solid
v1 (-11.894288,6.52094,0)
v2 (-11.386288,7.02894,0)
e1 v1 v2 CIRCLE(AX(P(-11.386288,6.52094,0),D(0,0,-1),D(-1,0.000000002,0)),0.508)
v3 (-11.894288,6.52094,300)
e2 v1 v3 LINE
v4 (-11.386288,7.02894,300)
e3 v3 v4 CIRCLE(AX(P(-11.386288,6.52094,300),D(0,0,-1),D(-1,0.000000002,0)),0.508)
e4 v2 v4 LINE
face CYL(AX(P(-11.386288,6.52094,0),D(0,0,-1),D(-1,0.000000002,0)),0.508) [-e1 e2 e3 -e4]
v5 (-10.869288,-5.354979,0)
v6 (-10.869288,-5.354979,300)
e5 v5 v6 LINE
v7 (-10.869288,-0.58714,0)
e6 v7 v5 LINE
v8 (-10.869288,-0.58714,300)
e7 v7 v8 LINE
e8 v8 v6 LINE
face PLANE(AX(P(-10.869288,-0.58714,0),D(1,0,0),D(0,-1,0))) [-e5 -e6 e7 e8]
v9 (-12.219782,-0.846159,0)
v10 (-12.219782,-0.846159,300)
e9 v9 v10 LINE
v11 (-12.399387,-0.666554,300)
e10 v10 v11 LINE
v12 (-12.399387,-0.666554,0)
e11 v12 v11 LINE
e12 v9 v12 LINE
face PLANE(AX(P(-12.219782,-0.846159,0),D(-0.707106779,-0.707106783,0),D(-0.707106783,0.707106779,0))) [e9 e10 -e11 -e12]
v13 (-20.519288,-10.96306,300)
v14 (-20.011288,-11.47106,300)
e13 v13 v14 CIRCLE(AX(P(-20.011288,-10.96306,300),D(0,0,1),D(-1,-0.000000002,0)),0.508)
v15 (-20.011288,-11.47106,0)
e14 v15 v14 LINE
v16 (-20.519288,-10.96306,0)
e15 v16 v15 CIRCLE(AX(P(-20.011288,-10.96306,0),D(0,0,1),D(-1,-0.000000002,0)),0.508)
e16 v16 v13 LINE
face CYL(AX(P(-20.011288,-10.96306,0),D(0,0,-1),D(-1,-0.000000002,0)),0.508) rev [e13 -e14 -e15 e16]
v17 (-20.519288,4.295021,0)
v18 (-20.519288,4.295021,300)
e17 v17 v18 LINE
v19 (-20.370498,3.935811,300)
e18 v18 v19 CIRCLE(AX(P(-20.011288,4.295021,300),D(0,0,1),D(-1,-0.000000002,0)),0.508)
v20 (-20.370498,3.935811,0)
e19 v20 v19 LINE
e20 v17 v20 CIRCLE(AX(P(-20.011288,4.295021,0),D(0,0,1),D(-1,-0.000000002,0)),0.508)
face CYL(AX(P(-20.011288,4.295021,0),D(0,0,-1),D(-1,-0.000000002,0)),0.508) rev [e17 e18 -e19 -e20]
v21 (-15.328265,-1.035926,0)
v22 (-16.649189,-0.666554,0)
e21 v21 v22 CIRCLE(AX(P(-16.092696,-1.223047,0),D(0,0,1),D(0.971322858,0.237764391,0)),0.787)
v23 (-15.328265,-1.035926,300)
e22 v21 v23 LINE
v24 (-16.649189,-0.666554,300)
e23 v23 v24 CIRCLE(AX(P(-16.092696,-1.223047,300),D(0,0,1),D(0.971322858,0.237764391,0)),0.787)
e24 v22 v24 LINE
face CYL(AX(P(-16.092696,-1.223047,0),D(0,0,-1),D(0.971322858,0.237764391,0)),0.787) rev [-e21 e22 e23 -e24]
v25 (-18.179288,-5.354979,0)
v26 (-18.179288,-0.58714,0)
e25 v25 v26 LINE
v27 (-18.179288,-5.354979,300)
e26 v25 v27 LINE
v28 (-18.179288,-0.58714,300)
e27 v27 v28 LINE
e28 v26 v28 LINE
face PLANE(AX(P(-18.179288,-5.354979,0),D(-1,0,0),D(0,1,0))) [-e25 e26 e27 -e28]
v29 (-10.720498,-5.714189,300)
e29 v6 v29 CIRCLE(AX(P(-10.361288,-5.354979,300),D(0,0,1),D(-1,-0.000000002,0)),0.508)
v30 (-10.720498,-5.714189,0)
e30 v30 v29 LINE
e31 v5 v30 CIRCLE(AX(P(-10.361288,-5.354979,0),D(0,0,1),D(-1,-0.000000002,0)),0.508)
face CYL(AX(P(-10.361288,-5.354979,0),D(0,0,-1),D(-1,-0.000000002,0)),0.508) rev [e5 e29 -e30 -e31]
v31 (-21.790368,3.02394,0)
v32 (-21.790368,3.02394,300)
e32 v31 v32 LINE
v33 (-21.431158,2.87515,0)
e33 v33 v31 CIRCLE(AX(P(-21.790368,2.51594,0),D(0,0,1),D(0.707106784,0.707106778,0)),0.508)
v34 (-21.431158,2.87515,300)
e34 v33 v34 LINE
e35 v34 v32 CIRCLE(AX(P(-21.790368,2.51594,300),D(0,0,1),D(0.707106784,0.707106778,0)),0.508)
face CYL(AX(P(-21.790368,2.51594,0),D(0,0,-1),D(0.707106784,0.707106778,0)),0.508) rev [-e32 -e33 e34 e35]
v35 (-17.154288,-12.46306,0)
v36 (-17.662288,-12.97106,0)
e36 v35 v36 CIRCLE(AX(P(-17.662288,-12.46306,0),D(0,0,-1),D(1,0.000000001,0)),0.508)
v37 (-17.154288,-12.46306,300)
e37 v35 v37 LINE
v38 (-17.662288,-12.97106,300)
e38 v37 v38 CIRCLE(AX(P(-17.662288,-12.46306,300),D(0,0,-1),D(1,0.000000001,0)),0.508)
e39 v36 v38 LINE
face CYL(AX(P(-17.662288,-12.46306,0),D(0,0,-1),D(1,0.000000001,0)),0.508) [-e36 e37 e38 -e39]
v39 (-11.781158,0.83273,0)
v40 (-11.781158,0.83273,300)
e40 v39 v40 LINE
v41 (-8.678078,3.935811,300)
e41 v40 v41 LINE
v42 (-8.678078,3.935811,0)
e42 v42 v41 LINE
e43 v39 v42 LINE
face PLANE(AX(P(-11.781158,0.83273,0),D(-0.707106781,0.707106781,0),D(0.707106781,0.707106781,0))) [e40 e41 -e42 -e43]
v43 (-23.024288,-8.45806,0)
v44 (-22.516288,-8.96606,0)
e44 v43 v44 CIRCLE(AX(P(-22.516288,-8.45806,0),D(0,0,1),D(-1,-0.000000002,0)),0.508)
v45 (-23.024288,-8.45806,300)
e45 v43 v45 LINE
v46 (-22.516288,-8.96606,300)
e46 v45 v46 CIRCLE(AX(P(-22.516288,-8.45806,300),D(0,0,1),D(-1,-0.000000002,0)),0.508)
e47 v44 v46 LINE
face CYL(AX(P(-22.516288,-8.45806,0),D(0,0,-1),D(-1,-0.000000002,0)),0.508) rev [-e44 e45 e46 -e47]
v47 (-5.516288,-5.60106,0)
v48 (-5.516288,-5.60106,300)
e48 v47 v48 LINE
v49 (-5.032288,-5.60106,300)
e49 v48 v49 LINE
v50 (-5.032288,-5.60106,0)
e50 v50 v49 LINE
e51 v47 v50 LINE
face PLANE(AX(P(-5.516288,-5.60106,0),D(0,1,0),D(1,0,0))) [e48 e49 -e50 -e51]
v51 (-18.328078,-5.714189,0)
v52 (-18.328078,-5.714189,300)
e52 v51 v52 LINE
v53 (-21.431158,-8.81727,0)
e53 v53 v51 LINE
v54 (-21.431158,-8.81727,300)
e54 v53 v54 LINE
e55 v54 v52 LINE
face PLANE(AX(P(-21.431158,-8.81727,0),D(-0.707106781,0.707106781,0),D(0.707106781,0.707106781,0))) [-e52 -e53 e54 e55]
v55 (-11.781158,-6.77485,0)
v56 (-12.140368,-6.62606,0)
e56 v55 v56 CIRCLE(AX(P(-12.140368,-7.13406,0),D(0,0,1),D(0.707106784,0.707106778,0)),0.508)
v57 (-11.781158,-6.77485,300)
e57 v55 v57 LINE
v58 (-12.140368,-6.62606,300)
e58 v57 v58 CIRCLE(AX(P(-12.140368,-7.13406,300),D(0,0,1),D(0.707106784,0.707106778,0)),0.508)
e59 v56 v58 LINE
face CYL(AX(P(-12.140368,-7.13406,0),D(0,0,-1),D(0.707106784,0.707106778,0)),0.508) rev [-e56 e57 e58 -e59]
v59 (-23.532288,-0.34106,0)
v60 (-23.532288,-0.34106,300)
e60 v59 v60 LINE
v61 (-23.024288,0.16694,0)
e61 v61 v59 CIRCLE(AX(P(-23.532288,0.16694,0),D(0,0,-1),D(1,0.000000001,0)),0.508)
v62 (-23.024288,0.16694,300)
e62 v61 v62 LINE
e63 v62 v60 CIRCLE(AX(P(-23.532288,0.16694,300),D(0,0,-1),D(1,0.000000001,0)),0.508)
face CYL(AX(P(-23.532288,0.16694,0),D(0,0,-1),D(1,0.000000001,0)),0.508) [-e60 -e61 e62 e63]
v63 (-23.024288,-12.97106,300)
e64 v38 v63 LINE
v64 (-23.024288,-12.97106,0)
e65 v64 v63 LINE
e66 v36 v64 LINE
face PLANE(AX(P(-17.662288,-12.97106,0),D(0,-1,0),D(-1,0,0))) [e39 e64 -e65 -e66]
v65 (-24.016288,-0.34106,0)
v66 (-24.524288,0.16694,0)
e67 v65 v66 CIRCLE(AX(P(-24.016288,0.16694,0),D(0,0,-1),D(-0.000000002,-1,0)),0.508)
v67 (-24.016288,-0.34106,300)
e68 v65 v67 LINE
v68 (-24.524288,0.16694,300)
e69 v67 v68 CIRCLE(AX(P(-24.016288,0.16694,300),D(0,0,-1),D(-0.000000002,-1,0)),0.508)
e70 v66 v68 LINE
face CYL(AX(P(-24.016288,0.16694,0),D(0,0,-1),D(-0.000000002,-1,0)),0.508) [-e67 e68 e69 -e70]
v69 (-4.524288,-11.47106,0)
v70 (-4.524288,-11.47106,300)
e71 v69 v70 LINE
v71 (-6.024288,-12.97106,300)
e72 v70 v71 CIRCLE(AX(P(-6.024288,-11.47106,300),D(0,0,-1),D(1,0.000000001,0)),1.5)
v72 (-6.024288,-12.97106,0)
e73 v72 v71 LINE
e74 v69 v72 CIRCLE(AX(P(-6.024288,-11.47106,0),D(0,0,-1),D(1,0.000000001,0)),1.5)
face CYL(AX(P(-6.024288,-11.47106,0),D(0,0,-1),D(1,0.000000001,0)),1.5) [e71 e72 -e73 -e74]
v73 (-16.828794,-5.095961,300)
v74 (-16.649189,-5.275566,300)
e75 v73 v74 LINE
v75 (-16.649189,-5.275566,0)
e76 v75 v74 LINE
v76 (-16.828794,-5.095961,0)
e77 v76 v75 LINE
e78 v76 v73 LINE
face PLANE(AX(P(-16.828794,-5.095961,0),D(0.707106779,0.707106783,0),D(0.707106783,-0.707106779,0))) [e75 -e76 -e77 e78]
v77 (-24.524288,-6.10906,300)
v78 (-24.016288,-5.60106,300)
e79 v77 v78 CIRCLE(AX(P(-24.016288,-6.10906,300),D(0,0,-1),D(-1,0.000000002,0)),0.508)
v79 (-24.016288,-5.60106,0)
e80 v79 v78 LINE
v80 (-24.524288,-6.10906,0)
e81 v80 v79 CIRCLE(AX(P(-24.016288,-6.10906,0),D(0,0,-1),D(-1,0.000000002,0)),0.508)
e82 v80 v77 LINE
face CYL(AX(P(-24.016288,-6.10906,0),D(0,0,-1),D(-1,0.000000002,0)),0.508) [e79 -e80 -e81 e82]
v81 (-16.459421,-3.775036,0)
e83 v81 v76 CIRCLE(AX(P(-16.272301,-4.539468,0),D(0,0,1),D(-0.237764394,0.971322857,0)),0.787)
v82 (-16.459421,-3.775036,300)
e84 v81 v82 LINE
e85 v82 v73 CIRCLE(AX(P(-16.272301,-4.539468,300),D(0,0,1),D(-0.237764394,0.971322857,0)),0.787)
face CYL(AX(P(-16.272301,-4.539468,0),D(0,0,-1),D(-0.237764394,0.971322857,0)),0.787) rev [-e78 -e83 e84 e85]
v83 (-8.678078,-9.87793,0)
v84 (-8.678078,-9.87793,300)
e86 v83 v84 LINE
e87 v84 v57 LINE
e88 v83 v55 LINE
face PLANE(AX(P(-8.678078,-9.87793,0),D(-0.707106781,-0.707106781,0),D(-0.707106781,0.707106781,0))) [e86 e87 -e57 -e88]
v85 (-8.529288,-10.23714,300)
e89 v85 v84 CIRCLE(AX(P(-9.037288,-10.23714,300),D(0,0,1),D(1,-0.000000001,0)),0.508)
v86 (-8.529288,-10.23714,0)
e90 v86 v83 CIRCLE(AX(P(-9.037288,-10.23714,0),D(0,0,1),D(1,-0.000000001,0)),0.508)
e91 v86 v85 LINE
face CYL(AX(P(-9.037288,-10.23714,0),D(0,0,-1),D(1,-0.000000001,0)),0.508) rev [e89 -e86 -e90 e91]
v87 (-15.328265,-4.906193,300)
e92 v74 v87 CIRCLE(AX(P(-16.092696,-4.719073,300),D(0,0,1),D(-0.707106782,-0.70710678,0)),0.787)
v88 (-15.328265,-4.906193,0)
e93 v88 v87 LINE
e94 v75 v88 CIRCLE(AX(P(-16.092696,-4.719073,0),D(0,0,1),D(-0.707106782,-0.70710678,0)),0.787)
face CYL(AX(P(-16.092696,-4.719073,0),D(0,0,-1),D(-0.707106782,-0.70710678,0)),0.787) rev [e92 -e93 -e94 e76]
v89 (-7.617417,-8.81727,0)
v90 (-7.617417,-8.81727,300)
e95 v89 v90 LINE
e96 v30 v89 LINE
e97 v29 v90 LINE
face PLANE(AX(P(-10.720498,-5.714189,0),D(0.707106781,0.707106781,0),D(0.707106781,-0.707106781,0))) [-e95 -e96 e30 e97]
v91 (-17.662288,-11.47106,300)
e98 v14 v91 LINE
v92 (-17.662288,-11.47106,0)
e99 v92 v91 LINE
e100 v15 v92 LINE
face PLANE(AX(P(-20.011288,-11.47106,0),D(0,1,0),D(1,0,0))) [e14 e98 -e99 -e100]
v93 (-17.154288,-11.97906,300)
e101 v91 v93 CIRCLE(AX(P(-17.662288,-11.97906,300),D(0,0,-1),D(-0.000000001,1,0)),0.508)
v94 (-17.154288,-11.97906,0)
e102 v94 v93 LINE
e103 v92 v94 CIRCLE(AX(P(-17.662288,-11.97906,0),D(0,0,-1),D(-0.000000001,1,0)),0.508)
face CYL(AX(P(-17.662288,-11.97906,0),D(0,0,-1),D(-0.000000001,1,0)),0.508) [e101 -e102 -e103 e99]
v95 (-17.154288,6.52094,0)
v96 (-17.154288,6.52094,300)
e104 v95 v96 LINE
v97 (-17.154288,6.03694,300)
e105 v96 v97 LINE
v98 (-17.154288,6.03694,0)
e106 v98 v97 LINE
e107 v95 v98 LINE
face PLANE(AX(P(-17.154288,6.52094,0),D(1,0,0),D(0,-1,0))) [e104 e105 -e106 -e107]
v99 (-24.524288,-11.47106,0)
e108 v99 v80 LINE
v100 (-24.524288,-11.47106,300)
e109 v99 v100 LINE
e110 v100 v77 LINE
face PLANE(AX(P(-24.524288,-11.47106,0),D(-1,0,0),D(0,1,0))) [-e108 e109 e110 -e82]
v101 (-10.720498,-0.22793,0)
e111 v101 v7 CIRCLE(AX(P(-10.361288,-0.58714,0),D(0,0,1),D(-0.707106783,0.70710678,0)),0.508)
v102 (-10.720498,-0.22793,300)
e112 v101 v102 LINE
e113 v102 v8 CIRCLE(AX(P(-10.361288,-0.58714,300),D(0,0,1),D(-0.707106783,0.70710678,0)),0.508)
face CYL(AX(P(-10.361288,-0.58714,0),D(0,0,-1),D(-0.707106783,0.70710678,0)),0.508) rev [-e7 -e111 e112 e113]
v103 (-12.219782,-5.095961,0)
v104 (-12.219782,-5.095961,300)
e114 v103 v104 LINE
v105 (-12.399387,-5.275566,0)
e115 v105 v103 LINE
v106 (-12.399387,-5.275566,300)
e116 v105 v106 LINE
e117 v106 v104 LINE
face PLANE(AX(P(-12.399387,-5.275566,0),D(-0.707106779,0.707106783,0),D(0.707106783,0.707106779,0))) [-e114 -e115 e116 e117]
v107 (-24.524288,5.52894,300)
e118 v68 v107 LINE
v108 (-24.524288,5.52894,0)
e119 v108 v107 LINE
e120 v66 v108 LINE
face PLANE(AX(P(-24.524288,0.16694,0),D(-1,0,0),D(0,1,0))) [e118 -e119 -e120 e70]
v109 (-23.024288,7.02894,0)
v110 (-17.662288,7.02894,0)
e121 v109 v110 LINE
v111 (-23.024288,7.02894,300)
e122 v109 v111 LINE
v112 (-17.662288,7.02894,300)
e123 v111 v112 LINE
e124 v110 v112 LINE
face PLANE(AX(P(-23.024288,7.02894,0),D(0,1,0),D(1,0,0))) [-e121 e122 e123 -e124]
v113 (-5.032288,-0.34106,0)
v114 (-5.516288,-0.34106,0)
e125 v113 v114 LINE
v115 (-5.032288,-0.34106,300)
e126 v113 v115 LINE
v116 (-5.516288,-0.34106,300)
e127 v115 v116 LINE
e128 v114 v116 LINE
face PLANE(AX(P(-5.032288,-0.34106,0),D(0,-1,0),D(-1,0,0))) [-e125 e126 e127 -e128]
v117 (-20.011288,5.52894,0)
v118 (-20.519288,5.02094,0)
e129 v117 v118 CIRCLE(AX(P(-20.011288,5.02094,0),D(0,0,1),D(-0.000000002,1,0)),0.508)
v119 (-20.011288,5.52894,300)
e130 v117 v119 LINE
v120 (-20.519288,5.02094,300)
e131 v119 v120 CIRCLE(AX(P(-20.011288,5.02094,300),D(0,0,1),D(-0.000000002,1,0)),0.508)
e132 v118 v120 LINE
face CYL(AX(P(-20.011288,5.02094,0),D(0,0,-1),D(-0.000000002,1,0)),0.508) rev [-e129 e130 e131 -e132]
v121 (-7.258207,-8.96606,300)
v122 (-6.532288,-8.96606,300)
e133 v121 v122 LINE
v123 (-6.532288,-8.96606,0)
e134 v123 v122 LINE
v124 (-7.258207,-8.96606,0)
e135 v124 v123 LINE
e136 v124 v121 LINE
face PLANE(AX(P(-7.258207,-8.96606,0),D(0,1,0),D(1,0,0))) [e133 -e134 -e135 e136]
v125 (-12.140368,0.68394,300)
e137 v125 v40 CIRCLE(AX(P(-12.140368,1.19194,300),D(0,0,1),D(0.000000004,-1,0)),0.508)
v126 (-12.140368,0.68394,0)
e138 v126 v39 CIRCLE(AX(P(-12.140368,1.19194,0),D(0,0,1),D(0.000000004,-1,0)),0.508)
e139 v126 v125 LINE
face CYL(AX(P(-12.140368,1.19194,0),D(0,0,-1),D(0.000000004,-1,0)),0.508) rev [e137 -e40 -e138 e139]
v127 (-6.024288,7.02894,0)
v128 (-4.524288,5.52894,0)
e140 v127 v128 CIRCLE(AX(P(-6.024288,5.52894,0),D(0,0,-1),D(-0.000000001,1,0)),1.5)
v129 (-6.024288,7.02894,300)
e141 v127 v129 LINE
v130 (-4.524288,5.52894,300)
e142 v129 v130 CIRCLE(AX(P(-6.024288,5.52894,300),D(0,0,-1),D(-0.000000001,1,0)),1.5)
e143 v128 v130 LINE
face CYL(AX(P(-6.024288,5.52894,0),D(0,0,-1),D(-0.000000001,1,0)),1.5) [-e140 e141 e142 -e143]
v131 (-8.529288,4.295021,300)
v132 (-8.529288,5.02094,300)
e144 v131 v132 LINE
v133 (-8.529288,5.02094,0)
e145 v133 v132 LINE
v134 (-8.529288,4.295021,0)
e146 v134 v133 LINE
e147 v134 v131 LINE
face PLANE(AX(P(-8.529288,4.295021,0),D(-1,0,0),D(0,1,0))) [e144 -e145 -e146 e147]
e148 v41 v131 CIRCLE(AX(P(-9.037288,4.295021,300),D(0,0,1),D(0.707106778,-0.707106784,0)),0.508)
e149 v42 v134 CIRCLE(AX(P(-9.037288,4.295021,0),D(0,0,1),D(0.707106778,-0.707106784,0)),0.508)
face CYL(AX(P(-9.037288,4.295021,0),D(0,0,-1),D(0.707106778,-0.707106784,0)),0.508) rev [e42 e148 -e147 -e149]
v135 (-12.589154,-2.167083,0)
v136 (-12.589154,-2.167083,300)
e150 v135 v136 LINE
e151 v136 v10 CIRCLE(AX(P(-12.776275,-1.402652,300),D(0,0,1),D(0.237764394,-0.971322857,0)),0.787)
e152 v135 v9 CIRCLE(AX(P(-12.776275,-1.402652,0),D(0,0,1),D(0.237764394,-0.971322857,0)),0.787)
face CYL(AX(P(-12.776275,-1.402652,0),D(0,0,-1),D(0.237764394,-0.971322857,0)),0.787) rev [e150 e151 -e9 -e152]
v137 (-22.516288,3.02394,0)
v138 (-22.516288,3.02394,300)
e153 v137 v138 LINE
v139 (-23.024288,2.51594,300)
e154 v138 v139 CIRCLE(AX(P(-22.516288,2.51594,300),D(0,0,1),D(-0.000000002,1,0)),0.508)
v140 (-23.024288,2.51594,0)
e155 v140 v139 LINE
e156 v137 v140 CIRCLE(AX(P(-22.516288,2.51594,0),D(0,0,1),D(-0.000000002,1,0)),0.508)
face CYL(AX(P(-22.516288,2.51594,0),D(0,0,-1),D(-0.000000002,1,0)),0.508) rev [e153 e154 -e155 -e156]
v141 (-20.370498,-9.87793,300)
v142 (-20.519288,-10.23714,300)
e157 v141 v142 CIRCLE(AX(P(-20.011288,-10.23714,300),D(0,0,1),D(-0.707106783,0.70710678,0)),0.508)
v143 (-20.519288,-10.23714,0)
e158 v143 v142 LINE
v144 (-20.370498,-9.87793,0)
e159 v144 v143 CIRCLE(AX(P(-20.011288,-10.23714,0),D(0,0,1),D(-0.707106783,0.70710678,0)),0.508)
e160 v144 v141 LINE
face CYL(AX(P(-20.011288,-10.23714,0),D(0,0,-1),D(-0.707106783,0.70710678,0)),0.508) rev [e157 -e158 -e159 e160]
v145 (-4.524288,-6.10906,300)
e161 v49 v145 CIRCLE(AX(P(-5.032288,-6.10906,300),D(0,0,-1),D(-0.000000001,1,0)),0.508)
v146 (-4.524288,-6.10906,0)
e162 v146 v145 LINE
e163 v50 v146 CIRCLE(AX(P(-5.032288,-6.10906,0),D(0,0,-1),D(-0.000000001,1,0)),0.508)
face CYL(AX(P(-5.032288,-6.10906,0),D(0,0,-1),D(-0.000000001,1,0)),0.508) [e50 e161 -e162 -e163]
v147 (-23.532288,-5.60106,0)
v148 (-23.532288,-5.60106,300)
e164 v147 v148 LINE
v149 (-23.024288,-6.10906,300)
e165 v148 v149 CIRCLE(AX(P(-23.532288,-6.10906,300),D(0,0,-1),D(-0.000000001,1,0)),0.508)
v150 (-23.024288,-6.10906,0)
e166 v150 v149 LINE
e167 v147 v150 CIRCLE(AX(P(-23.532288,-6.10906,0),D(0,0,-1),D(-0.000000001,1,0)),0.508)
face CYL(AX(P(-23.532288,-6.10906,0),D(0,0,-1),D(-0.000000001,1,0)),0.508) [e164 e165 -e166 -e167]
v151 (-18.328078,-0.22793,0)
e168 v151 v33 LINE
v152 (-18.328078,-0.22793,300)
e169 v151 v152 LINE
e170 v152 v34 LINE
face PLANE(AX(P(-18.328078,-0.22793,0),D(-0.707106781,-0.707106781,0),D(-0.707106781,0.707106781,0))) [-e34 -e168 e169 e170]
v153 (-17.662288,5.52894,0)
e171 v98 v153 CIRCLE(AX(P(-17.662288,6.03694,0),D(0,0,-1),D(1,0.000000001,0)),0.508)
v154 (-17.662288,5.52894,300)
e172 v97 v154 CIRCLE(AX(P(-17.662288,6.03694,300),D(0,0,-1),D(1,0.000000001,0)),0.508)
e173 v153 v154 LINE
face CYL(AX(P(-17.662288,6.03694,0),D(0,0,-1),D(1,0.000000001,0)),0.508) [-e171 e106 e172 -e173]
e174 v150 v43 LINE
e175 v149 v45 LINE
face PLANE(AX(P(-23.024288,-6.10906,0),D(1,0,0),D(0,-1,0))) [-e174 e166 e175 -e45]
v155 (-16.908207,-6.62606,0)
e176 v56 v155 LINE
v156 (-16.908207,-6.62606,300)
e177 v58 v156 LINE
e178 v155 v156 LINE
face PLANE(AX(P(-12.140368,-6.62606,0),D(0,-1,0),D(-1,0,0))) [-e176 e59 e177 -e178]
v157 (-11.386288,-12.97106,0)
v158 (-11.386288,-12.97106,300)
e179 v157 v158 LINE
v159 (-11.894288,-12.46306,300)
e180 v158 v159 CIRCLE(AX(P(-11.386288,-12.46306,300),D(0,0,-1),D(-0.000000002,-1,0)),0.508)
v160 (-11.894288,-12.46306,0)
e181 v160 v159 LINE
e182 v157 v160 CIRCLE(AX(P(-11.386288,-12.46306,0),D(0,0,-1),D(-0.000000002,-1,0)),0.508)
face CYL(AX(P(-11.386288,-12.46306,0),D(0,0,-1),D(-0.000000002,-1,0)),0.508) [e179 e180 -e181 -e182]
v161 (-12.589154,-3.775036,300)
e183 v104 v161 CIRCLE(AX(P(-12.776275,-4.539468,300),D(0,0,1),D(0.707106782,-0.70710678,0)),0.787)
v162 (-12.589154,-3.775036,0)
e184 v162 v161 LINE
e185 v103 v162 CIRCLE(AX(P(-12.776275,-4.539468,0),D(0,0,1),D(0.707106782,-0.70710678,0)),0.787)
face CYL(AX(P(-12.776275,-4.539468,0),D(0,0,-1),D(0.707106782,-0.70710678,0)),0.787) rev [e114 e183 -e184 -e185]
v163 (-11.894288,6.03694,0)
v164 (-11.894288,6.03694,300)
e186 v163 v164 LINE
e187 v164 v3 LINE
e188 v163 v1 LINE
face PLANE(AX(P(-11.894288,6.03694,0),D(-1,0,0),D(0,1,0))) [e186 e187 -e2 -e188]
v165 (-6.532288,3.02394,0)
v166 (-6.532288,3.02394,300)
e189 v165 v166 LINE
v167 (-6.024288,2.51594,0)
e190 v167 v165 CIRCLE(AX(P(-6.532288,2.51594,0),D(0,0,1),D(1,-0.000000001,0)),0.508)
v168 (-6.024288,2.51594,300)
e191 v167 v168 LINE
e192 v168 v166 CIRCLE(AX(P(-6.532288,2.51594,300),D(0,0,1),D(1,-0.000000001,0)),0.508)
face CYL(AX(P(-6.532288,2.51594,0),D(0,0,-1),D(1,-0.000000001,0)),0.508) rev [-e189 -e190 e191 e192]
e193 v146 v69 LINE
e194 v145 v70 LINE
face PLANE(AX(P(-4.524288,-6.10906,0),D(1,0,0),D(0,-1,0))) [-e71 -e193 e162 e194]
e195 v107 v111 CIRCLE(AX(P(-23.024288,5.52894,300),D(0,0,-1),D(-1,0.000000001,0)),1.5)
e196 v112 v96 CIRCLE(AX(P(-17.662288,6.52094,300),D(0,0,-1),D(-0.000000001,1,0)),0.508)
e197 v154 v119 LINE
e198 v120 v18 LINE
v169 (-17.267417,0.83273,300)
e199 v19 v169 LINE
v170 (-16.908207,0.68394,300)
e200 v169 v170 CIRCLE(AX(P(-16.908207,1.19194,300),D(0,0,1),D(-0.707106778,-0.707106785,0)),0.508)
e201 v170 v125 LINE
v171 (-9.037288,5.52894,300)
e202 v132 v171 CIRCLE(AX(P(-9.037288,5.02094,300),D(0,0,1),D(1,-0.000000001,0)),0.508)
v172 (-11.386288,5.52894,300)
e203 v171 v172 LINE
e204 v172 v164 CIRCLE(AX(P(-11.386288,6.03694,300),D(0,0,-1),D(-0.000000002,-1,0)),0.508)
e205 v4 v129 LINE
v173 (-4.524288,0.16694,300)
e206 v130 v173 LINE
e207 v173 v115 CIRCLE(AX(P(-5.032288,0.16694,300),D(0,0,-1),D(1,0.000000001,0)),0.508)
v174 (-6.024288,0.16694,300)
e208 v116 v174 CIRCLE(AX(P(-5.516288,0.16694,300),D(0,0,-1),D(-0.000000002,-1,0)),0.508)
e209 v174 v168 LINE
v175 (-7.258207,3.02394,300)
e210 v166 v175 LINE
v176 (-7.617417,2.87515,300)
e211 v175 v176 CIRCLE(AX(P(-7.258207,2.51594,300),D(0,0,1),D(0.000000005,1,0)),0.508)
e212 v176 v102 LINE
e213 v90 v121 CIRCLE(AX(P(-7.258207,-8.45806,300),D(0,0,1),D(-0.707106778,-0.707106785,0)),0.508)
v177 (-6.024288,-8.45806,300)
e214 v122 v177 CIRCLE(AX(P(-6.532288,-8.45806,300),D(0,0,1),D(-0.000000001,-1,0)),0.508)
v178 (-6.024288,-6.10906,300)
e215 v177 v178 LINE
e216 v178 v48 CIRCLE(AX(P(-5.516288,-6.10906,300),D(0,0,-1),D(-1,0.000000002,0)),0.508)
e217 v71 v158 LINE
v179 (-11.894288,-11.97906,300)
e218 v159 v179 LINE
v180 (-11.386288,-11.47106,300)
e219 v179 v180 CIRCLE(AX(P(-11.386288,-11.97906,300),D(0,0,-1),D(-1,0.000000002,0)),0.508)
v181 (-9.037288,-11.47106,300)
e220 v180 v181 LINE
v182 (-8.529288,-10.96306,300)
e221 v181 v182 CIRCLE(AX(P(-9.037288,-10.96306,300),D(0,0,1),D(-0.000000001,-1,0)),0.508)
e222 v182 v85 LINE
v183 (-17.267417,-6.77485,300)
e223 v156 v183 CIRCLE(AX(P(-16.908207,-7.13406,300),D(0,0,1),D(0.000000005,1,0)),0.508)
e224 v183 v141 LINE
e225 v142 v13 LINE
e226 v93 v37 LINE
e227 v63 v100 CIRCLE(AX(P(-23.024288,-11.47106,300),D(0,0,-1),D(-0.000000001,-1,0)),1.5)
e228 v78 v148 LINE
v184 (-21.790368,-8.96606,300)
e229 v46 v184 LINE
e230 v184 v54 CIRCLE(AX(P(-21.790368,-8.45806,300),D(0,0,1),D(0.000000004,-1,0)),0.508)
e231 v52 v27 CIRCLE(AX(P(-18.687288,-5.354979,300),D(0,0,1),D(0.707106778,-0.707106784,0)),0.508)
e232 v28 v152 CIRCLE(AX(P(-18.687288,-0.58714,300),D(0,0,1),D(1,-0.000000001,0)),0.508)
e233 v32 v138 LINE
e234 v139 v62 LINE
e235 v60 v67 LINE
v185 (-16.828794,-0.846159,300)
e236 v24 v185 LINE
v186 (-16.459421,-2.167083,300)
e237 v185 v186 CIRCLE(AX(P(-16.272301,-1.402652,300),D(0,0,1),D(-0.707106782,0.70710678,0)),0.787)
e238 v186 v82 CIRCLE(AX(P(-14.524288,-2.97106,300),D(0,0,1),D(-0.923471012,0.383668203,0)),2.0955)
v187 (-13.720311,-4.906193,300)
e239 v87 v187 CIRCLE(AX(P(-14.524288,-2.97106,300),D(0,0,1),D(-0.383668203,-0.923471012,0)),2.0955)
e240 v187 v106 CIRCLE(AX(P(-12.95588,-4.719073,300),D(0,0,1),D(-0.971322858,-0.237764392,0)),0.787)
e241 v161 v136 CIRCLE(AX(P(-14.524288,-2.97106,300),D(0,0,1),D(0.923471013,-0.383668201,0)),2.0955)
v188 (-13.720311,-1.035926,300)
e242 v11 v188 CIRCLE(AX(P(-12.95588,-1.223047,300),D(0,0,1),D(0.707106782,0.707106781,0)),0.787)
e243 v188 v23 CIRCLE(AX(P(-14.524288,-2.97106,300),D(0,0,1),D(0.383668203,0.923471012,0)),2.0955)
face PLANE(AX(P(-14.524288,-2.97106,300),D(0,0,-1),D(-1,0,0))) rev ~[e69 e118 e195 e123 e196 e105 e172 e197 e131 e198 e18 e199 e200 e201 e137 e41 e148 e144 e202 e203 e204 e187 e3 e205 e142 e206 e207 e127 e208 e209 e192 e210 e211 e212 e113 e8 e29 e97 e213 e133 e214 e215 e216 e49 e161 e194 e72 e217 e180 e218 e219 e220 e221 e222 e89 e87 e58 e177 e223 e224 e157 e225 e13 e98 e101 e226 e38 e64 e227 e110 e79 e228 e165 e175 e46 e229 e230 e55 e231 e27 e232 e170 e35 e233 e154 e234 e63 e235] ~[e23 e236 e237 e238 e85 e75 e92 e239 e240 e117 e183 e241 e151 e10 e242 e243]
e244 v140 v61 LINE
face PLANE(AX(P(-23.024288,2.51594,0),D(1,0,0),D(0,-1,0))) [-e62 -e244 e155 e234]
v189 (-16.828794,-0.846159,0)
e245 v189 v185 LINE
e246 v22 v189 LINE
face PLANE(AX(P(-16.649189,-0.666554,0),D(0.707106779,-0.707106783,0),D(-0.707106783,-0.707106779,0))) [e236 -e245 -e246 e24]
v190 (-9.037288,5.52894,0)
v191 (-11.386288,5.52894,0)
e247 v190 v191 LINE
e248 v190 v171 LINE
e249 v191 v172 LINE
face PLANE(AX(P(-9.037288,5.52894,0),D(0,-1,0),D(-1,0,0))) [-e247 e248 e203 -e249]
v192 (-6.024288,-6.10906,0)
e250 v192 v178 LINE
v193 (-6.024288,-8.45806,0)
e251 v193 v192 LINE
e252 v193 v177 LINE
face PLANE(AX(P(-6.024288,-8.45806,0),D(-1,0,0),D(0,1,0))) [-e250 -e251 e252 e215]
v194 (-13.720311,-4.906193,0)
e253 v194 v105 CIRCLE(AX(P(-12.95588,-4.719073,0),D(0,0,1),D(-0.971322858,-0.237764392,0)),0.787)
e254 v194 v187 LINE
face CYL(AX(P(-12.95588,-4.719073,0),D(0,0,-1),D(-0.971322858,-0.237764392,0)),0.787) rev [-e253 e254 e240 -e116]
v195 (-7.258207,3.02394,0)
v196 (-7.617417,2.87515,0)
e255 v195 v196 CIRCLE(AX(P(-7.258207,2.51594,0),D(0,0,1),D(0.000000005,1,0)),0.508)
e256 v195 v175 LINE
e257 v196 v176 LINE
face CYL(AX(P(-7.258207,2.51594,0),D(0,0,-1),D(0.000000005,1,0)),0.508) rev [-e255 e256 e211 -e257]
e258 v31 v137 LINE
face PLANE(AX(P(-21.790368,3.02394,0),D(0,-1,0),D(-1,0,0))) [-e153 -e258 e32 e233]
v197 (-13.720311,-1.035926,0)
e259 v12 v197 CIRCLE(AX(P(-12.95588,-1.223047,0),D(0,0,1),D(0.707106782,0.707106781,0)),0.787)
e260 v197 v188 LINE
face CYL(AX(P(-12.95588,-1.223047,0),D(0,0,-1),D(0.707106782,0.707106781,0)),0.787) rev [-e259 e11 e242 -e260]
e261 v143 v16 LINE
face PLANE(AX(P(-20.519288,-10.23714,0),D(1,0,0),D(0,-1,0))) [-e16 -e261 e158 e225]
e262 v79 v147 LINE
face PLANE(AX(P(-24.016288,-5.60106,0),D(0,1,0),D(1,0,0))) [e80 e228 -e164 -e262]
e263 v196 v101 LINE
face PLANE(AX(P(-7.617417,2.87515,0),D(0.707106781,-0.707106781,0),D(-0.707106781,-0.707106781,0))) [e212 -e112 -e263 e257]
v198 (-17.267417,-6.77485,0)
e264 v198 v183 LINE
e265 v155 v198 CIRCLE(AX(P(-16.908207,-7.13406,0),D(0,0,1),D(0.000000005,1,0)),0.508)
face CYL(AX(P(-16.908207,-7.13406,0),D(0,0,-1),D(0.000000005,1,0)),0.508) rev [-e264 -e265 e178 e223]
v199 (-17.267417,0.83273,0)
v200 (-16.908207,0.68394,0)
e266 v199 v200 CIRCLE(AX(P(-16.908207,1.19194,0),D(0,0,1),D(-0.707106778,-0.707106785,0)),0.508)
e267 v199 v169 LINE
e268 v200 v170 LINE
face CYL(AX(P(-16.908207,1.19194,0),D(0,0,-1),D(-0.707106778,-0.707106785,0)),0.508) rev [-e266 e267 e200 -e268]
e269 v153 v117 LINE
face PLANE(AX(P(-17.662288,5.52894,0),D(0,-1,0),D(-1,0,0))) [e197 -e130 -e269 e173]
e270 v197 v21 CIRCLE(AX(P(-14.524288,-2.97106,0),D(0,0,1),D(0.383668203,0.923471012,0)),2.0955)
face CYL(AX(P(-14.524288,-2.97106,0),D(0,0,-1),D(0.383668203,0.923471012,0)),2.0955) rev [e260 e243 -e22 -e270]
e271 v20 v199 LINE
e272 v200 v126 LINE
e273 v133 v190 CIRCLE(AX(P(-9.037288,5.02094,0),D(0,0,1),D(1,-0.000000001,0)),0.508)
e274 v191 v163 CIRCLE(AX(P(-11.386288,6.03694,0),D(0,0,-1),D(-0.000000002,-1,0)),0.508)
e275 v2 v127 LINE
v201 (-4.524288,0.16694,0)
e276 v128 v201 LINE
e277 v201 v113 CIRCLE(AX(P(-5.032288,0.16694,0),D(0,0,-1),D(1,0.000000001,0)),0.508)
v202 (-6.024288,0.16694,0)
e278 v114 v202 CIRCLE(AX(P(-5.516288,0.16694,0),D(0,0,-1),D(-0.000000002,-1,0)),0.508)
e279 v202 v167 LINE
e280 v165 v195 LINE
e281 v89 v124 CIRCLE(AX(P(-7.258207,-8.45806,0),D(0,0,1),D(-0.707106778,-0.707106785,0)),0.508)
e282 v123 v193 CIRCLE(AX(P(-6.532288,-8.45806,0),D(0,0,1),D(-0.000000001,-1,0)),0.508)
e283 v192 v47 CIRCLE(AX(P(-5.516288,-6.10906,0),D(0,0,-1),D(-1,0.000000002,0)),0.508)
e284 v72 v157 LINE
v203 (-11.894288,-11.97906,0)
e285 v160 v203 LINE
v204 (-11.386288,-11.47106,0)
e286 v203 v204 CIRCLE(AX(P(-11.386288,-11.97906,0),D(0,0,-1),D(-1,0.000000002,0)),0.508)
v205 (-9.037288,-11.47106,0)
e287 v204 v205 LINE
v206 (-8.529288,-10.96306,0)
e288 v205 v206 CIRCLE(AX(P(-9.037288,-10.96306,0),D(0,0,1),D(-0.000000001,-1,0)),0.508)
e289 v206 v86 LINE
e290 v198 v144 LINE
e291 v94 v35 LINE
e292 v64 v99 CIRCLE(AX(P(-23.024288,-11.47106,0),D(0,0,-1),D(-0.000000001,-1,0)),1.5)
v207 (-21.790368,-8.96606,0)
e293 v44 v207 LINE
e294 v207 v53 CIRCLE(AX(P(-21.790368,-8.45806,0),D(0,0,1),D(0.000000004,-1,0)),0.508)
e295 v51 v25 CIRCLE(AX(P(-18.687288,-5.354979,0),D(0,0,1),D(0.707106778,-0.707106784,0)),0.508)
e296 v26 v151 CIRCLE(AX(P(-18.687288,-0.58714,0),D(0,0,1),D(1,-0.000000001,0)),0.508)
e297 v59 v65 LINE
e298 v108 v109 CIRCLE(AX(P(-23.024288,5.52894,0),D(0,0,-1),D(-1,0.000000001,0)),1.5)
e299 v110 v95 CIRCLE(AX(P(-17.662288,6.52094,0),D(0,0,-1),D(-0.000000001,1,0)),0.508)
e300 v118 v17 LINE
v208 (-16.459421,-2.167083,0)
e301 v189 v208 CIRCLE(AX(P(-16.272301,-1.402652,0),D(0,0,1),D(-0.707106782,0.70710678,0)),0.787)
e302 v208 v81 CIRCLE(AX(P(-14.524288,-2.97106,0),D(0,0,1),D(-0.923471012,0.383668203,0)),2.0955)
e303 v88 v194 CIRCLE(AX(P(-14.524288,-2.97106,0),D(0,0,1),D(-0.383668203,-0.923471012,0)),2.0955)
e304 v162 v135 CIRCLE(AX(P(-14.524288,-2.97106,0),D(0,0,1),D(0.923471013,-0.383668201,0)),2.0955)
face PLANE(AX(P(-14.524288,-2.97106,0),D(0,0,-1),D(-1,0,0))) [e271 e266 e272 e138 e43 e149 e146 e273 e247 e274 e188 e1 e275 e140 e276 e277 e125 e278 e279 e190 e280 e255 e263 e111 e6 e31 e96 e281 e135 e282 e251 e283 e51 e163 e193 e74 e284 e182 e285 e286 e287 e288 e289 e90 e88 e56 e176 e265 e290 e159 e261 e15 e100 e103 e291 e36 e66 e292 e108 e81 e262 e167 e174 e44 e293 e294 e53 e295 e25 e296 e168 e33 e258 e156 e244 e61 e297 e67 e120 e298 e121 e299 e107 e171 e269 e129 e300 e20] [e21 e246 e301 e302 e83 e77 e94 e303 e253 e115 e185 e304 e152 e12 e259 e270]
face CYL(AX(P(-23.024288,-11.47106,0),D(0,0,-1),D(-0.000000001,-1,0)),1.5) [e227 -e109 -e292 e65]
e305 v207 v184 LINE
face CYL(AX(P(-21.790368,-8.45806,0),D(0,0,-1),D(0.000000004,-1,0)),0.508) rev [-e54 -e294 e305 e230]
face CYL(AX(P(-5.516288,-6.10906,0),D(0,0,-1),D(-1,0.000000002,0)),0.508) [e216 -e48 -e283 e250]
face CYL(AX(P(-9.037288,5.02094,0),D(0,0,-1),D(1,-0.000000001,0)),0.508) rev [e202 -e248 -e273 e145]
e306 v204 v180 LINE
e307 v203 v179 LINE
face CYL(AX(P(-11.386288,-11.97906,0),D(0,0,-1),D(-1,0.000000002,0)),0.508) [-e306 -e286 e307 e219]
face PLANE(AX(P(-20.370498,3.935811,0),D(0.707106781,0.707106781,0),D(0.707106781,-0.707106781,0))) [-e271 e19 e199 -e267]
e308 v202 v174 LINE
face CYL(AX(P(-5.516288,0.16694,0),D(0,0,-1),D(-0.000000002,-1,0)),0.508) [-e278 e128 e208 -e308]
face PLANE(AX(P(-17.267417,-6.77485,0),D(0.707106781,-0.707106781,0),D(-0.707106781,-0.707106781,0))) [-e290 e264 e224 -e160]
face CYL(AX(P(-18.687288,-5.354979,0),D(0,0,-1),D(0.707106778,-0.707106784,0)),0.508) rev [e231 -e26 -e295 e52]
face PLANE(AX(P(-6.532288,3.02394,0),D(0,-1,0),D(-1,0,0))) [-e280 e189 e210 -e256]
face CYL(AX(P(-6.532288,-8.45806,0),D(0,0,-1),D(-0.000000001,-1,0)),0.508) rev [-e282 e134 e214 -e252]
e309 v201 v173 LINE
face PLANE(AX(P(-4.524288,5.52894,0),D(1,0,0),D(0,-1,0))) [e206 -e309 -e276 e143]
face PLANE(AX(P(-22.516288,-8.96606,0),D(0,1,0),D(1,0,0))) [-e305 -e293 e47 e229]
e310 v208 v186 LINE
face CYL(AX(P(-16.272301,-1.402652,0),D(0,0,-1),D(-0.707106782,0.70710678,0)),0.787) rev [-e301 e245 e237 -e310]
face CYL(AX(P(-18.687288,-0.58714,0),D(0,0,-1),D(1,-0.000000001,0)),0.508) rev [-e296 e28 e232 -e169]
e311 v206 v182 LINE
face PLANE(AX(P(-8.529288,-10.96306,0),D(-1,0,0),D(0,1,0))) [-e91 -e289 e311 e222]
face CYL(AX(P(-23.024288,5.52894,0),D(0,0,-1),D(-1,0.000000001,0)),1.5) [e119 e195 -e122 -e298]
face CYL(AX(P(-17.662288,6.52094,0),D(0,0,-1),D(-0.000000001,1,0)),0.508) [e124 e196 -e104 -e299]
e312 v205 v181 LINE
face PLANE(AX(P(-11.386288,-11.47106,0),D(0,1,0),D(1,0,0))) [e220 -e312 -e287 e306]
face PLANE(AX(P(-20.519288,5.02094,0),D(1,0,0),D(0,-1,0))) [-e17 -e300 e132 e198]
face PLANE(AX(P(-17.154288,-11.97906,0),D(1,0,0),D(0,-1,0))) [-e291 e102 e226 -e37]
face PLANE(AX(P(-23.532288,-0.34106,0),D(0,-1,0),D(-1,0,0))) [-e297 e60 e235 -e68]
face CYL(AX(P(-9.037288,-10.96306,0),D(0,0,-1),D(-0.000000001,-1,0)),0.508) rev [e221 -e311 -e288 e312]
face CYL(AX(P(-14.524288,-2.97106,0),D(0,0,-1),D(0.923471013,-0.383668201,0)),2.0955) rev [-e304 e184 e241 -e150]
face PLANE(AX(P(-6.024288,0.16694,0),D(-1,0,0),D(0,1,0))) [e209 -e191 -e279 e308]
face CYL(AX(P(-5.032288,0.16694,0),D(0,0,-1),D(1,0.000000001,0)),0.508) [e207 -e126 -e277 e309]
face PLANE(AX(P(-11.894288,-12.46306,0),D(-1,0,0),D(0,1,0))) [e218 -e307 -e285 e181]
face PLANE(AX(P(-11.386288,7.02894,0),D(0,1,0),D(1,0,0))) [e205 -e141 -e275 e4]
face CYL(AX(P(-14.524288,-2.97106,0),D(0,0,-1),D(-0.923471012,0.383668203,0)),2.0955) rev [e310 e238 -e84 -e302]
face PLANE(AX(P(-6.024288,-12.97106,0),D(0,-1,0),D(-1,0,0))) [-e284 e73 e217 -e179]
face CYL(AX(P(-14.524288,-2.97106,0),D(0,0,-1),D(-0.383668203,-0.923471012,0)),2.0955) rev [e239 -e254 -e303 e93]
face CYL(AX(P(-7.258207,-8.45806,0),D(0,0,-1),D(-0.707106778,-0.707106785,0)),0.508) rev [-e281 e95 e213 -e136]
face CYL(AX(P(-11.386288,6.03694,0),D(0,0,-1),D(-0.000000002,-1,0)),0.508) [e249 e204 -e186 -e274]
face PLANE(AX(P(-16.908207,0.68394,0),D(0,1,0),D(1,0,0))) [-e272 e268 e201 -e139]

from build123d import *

# Parameters (mm, degrees)
EXTRUDE1_DEPTH = 300


with BuildPart() as part:
    # Sketch1 → Extrude1 (new body)
    with BuildSketch(Plane.XY):
        with BuildLine():
            Line((-5.032287798, -0.341059771), (-5.516287798, -0.341059771))
            ThreePointArc((-5.516287798, -0.341059771), (-5.875498042, -0.192270016), (-6.024287798, 0.166940229))
            Line((-6.024287798, 0.166940229), (-6.024287798, 2.515940229))
            ThreePointArc((-6.024287798, 2.515940229), (-6.173077553, 2.875150474), (-6.532287798, 3.023940229))
            Line((-6.532287798, 3.023940229), (-7.258207136, 3.023940229))
            ThreePointArc((-7.258207136, 3.023940229), (-7.45261032, 2.985271032), (-7.617417381, 2.875150474))
            Line((-7.617417381, 2.875150474), (-10.720498042, -0.227930187))
            ThreePointArc((-10.720498042, -0.227930187), (-10.8306186, -0.392737249), (-10.869287798, -0.587140432))
            Line((-10.869287798, -0.587140432), (-10.869287798, -5.354979109))
            ThreePointArc((-10.869287798, -5.354979109), (-10.8306186, -5.549382293), (-10.720498042, -5.714189354))
            Line((-10.720498042, -5.714189354), (-7.617417381, -8.817270016))
            ThreePointArc((-7.617417381, -8.817270016), (-7.45261032, -8.927390573), (-7.258207136, -8.966059771))
            Line((-7.258207136, -8.966059771), (-6.532287798, -8.966059771))
            ThreePointArc((-6.532287798, -8.966059771), (-6.173077553, -8.817270016), (-6.024287798, -8.458059771))
            Line((-6.024287798, -8.458059771), (-6.024287798, -6.109059771))
            ThreePointArc((-6.024287798, -6.109059771), (-5.875498042, -5.749849526), (-5.516287798, -5.601059771))
            Line((-5.516287798, -5.601059771), (-5.032287798, -5.601059771))
            ThreePointArc((-5.032287798, -5.601059771), (-4.673077553, -5.749849526), (-4.524287798, -6.109059771))
            Line((-4.524287798, -6.109059771), (-4.524287798, -11.471059771))
            ThreePointArc((-4.524287798, -11.471059771), (-4.963627626, -12.531719943), (-6.024287798, -12.971059771))
            Line((-6.024287798, -12.971059771), (-11.386287798, -12.971059771))
            ThreePointArc((-11.386287798, -12.971059771), (-11.745498042, -12.822270016), (-11.894287798, -12.463059771))
            Line((-11.894287798, -12.463059771), (-11.894287798, -11.979059771))
            ThreePointArc((-11.894287798, -11.979059771), (-11.745498042, -11.619849526), (-11.386287798, -11.471059771))
            Line((-11.386287798, -11.471059771), (-9.037287798, -11.471059771))
            ThreePointArc((-9.037287798, -11.471059771), (-8.678077553, -11.322270016), (-8.529287798, -10.963059771))
            Line((-8.529287798, -10.963059771), (-8.529287798, -10.237140432))
            ThreePointArc((-8.529287798, -10.237140432), (-8.567956995, -10.042737249), (-8.678077553, -9.877930187))
            Line((-8.678077553, -9.877930187), (-11.781158214, -6.774849526))
            ThreePointArc((-11.781158214, -6.774849526), (-11.945965275, -6.664728968), (-12.140368459, -6.626059771))
            Line((-12.140368459, -6.626059771), (-16.908207136, -6.626059771))
            ThreePointArc((-16.908207136, -6.626059771), (-17.10261032, -6.664728968), (-17.267417381, -6.774849526))
            Line((-17.267417381, -6.774849526), (-20.370498042, -9.877930187))
            ThreePointArc((-20.370498042, -9.877930187), (-20.4806186, -10.042737249), (-20.519287798, -10.237140432))
            Line((-20.519287798, -10.237140432), (-20.519287798, -10.963059771))
            ThreePointArc((-20.519287798, -10.963059771), (-20.370498042, -11.322270016), (-20.011287798, -11.471059771))
            Line((-20.011287798, -11.471059771), (-17.662287798, -11.471059771))
            ThreePointArc((-17.662287798, -11.471059771), (-17.303077553, -11.619849526), (-17.154287798, -11.979059771))
            Line((-17.154287798, -11.979059771), (-17.154287798, -12.463059771))
            ThreePointArc((-17.154287798, -12.463059771), (-17.303077553, -12.822270016), (-17.662287798, -12.971059771))
            Line((-17.662287798, -12.971059771), (-23.024287798, -12.971059771))
            ThreePointArc((-23.024287798, -12.971059771), (-24.084947969, -12.531719943), (-24.524287798, -11.471059771))
            Line((-24.524287798, -11.471059771), (-24.524287798, -6.109059771))
            ThreePointArc((-24.524287798, -6.109059771), (-24.375498042, -5.749849526), (-24.016287798, -5.601059771))
            Line((-24.016287798, -5.601059771), (-23.532287798, -5.601059771))
            ThreePointArc((-23.532287798, -5.601059771), (-23.173077553, -5.749849526), (-23.024287798, -6.109059771))
            Line((-23.024287798, -6.109059771), (-23.024287798, -8.458059771))
            ThreePointArc((-23.024287798, -8.458059771), (-22.875498042, -8.817270016), (-22.516287798, -8.966059771))
            Line((-22.516287798, -8.966059771), (-21.790368459, -8.966059771))
            ThreePointArc((-21.790368459, -8.966059771), (-21.595965275, -8.927390573), (-21.431158214, -8.817270016))
            Line((-21.431158214, -8.817270016), (-18.328077553, -5.714189354))
            ThreePointArc((-18.328077553, -5.714189354), (-18.217956995, -5.549382293), (-18.179287798, -5.354979109))
            Line((-18.179287798, -5.354979109), (-18.179287798, -0.587140432))
            ThreePointArc((-18.179287798, -0.587140432), (-18.217956995, -0.392737249), (-18.328077553, -0.227930187))
            Line((-18.328077553, -0.227930187), (-21.431158214, 2.875150474))
            ThreePointArc((-21.431158214, 2.875150474), (-21.595965275, 2.985271032), (-21.790368459, 3.023940229))
            Line((-21.790368459, 3.023940229), (-22.516287798, 3.023940229))
            ThreePointArc((-22.516287798, 3.023940229), (-22.875498042, 2.875150474), (-23.024287798, 2.515940229))
            Line((-23.024287798, 2.515940229), (-23.024287798, 0.166940229))
            ThreePointArc((-23.024287798, 0.166940229), (-23.173077553, -0.192270016), (-23.532287798, -0.341059771))
            Line((-23.532287798, -0.341059771), (-24.016287798, -0.341059771))
            ThreePointArc((-24.016287798, -0.341059771), (-24.375498042, -0.192270016), (-24.524287798, 0.166940229))
            Line((-24.524287798, 0.166940229), (-24.524287798, 5.528940229))
            ThreePointArc((-24.524287798, 5.528940229), (-24.084947969, 6.589600401), (-23.024287798, 7.028940229))
            Line((-23.024287798, 7.028940229), (-17.662287798, 7.028940229))
            ThreePointArc((-17.662287798, 7.028940229), (-17.303077553, 6.880150474), (-17.154287798, 6.520940229))
            Line((-17.154287798, 6.520940229), (-17.154287798, 6.036940229))
            ThreePointArc((-17.154287798, 6.036940229), (-17.303077553, 5.677729984), (-17.662287798, 5.528940229))
            Line((-17.662287798, 5.528940229), (-20.011287798, 5.528940229))
            ThreePointArc((-20.011287798, 5.528940229), (-20.370498042, 5.380150474), (-20.519287798, 5.020940229))
            Line((-20.519287798, 5.020940229), (-20.519287798, 4.295020891))
            ThreePointArc((-20.519287798, 4.295020891), (-20.4806186, 4.100617707), (-20.370498042, 3.935810646))
            Line((-20.370498042, 3.935810646), (-17.267417381, 0.832729984))
            ThreePointArc((-17.267417381, 0.832729984), (-17.10261032, 0.722609427), (-16.908207136, 0.683940229))
            Line((-16.908207136, 0.683940229), (-12.140368459, 0.683940229))
            ThreePointArc((-12.140368459, 0.683940229), (-11.945965275, 0.722609427), (-11.781158214, 0.832729984))
            Line((-11.781158214, 0.832729984), (-8.678077553, 3.935810646))
            ThreePointArc((-8.678077553, 3.935810646), (-8.567956995, 4.100617707), (-8.529287798, 4.295020891))
            Line((-8.529287798, 4.295020891), (-8.529287798, 5.020940229))
            ThreePointArc((-8.529287798, 5.020940229), (-8.678077553, 5.380150474), (-9.037287798, 5.528940229))
            Line((-9.037287798, 5.528940229), (-11.386287798, 5.528940229))
            ThreePointArc((-11.386287798, 5.528940229), (-11.745498042, 5.677729984), (-11.894287798, 6.036940229))
            Line((-11.894287798, 6.036940229), (-11.894287798, 6.520940229))
            ThreePointArc((-11.894287798, 6.520940229), (-11.745498042, 6.880150474), (-11.386287798, 7.028940229))
            Line((-11.386287798, 7.028940229), (-6.024287798, 7.028940229))
            ThreePointArc((-6.024287798, 7.028940229), (-4.963627626, 6.589600401), (-4.524287798, 5.528940229))
            Line((-4.524287798, 5.528940229), (-4.524287798, 0.166940229))
            ThreePointArc((-4.524287798, 0.166940229), (-4.673077553, -0.192270016), (-5.032287798, -0.341059771))
        make_face()
        with BuildLine():
            Line((-12.399386954, -5.275565737), (-12.219781831, -5.095960615))
            ThreePointArc((-12.219781831, -5.095960615), (-12.018349781, -4.327527582), (-12.589154291, -3.775036489))
            ThreePointArc((-12.589154291, -3.775036489), (-12.428787798, -2.971059771), (-12.589154291, -2.167083053))
            ThreePointArc((-12.589154291, -2.167083053), (-12.018349781, -1.61459196), (-12.219781831, -0.846158927))
            Line((-12.219781831, -0.846158927), (-12.399386954, -0.666553805))
            ThreePointArc((-12.399386954, -0.666553805), (-13.167819987, -0.465121754), (-13.72031108, -1.035926265))
            ThreePointArc((-13.72031108, -1.035926265), (-14.524287798, -0.875559771), (-15.328264516, -1.035926265))
            ThreePointArc((-15.328264516, -1.035926265), (-15.880755608, -0.465121754), (-16.649188641, -0.666553805))
            Line((-16.649188641, -0.666553805), (-16.828793764, -0.846158927))
            ThreePointArc((-16.828793764, -0.846158927), (-17.030225814, -1.61459196), (-16.459421304, -2.167083053))
            ThreePointArc((-16.459421304, -2.167083053), (-16.619787798, -2.971059771), (-16.459421304, -3.775036489))
            ThreePointArc((-16.459421304, -3.775036489), (-17.030225814, -4.327527582), (-16.828793764, -5.095960615))
            Line((-16.828793764, -5.095960615), (-16.649188641, -5.275565737))
            ThreePointArc((-16.649188641, -5.275565737), (-15.880755608, -5.476997788), (-15.328264516, -4.906193277))
            ThreePointArc((-15.328264516, -4.906193277), (-14.524287798, -5.066559771), (-13.72031108, -4.906193277))
            ThreePointArc((-13.72031108, -4.906193277), (-13.167819987, -5.476997788), (-12.399386954, -5.275565737))
        make_face(mode=Mode.SUBTRACT)
    extrude(amount=EXTRUDE1_DEPTH)


solid = part.part
